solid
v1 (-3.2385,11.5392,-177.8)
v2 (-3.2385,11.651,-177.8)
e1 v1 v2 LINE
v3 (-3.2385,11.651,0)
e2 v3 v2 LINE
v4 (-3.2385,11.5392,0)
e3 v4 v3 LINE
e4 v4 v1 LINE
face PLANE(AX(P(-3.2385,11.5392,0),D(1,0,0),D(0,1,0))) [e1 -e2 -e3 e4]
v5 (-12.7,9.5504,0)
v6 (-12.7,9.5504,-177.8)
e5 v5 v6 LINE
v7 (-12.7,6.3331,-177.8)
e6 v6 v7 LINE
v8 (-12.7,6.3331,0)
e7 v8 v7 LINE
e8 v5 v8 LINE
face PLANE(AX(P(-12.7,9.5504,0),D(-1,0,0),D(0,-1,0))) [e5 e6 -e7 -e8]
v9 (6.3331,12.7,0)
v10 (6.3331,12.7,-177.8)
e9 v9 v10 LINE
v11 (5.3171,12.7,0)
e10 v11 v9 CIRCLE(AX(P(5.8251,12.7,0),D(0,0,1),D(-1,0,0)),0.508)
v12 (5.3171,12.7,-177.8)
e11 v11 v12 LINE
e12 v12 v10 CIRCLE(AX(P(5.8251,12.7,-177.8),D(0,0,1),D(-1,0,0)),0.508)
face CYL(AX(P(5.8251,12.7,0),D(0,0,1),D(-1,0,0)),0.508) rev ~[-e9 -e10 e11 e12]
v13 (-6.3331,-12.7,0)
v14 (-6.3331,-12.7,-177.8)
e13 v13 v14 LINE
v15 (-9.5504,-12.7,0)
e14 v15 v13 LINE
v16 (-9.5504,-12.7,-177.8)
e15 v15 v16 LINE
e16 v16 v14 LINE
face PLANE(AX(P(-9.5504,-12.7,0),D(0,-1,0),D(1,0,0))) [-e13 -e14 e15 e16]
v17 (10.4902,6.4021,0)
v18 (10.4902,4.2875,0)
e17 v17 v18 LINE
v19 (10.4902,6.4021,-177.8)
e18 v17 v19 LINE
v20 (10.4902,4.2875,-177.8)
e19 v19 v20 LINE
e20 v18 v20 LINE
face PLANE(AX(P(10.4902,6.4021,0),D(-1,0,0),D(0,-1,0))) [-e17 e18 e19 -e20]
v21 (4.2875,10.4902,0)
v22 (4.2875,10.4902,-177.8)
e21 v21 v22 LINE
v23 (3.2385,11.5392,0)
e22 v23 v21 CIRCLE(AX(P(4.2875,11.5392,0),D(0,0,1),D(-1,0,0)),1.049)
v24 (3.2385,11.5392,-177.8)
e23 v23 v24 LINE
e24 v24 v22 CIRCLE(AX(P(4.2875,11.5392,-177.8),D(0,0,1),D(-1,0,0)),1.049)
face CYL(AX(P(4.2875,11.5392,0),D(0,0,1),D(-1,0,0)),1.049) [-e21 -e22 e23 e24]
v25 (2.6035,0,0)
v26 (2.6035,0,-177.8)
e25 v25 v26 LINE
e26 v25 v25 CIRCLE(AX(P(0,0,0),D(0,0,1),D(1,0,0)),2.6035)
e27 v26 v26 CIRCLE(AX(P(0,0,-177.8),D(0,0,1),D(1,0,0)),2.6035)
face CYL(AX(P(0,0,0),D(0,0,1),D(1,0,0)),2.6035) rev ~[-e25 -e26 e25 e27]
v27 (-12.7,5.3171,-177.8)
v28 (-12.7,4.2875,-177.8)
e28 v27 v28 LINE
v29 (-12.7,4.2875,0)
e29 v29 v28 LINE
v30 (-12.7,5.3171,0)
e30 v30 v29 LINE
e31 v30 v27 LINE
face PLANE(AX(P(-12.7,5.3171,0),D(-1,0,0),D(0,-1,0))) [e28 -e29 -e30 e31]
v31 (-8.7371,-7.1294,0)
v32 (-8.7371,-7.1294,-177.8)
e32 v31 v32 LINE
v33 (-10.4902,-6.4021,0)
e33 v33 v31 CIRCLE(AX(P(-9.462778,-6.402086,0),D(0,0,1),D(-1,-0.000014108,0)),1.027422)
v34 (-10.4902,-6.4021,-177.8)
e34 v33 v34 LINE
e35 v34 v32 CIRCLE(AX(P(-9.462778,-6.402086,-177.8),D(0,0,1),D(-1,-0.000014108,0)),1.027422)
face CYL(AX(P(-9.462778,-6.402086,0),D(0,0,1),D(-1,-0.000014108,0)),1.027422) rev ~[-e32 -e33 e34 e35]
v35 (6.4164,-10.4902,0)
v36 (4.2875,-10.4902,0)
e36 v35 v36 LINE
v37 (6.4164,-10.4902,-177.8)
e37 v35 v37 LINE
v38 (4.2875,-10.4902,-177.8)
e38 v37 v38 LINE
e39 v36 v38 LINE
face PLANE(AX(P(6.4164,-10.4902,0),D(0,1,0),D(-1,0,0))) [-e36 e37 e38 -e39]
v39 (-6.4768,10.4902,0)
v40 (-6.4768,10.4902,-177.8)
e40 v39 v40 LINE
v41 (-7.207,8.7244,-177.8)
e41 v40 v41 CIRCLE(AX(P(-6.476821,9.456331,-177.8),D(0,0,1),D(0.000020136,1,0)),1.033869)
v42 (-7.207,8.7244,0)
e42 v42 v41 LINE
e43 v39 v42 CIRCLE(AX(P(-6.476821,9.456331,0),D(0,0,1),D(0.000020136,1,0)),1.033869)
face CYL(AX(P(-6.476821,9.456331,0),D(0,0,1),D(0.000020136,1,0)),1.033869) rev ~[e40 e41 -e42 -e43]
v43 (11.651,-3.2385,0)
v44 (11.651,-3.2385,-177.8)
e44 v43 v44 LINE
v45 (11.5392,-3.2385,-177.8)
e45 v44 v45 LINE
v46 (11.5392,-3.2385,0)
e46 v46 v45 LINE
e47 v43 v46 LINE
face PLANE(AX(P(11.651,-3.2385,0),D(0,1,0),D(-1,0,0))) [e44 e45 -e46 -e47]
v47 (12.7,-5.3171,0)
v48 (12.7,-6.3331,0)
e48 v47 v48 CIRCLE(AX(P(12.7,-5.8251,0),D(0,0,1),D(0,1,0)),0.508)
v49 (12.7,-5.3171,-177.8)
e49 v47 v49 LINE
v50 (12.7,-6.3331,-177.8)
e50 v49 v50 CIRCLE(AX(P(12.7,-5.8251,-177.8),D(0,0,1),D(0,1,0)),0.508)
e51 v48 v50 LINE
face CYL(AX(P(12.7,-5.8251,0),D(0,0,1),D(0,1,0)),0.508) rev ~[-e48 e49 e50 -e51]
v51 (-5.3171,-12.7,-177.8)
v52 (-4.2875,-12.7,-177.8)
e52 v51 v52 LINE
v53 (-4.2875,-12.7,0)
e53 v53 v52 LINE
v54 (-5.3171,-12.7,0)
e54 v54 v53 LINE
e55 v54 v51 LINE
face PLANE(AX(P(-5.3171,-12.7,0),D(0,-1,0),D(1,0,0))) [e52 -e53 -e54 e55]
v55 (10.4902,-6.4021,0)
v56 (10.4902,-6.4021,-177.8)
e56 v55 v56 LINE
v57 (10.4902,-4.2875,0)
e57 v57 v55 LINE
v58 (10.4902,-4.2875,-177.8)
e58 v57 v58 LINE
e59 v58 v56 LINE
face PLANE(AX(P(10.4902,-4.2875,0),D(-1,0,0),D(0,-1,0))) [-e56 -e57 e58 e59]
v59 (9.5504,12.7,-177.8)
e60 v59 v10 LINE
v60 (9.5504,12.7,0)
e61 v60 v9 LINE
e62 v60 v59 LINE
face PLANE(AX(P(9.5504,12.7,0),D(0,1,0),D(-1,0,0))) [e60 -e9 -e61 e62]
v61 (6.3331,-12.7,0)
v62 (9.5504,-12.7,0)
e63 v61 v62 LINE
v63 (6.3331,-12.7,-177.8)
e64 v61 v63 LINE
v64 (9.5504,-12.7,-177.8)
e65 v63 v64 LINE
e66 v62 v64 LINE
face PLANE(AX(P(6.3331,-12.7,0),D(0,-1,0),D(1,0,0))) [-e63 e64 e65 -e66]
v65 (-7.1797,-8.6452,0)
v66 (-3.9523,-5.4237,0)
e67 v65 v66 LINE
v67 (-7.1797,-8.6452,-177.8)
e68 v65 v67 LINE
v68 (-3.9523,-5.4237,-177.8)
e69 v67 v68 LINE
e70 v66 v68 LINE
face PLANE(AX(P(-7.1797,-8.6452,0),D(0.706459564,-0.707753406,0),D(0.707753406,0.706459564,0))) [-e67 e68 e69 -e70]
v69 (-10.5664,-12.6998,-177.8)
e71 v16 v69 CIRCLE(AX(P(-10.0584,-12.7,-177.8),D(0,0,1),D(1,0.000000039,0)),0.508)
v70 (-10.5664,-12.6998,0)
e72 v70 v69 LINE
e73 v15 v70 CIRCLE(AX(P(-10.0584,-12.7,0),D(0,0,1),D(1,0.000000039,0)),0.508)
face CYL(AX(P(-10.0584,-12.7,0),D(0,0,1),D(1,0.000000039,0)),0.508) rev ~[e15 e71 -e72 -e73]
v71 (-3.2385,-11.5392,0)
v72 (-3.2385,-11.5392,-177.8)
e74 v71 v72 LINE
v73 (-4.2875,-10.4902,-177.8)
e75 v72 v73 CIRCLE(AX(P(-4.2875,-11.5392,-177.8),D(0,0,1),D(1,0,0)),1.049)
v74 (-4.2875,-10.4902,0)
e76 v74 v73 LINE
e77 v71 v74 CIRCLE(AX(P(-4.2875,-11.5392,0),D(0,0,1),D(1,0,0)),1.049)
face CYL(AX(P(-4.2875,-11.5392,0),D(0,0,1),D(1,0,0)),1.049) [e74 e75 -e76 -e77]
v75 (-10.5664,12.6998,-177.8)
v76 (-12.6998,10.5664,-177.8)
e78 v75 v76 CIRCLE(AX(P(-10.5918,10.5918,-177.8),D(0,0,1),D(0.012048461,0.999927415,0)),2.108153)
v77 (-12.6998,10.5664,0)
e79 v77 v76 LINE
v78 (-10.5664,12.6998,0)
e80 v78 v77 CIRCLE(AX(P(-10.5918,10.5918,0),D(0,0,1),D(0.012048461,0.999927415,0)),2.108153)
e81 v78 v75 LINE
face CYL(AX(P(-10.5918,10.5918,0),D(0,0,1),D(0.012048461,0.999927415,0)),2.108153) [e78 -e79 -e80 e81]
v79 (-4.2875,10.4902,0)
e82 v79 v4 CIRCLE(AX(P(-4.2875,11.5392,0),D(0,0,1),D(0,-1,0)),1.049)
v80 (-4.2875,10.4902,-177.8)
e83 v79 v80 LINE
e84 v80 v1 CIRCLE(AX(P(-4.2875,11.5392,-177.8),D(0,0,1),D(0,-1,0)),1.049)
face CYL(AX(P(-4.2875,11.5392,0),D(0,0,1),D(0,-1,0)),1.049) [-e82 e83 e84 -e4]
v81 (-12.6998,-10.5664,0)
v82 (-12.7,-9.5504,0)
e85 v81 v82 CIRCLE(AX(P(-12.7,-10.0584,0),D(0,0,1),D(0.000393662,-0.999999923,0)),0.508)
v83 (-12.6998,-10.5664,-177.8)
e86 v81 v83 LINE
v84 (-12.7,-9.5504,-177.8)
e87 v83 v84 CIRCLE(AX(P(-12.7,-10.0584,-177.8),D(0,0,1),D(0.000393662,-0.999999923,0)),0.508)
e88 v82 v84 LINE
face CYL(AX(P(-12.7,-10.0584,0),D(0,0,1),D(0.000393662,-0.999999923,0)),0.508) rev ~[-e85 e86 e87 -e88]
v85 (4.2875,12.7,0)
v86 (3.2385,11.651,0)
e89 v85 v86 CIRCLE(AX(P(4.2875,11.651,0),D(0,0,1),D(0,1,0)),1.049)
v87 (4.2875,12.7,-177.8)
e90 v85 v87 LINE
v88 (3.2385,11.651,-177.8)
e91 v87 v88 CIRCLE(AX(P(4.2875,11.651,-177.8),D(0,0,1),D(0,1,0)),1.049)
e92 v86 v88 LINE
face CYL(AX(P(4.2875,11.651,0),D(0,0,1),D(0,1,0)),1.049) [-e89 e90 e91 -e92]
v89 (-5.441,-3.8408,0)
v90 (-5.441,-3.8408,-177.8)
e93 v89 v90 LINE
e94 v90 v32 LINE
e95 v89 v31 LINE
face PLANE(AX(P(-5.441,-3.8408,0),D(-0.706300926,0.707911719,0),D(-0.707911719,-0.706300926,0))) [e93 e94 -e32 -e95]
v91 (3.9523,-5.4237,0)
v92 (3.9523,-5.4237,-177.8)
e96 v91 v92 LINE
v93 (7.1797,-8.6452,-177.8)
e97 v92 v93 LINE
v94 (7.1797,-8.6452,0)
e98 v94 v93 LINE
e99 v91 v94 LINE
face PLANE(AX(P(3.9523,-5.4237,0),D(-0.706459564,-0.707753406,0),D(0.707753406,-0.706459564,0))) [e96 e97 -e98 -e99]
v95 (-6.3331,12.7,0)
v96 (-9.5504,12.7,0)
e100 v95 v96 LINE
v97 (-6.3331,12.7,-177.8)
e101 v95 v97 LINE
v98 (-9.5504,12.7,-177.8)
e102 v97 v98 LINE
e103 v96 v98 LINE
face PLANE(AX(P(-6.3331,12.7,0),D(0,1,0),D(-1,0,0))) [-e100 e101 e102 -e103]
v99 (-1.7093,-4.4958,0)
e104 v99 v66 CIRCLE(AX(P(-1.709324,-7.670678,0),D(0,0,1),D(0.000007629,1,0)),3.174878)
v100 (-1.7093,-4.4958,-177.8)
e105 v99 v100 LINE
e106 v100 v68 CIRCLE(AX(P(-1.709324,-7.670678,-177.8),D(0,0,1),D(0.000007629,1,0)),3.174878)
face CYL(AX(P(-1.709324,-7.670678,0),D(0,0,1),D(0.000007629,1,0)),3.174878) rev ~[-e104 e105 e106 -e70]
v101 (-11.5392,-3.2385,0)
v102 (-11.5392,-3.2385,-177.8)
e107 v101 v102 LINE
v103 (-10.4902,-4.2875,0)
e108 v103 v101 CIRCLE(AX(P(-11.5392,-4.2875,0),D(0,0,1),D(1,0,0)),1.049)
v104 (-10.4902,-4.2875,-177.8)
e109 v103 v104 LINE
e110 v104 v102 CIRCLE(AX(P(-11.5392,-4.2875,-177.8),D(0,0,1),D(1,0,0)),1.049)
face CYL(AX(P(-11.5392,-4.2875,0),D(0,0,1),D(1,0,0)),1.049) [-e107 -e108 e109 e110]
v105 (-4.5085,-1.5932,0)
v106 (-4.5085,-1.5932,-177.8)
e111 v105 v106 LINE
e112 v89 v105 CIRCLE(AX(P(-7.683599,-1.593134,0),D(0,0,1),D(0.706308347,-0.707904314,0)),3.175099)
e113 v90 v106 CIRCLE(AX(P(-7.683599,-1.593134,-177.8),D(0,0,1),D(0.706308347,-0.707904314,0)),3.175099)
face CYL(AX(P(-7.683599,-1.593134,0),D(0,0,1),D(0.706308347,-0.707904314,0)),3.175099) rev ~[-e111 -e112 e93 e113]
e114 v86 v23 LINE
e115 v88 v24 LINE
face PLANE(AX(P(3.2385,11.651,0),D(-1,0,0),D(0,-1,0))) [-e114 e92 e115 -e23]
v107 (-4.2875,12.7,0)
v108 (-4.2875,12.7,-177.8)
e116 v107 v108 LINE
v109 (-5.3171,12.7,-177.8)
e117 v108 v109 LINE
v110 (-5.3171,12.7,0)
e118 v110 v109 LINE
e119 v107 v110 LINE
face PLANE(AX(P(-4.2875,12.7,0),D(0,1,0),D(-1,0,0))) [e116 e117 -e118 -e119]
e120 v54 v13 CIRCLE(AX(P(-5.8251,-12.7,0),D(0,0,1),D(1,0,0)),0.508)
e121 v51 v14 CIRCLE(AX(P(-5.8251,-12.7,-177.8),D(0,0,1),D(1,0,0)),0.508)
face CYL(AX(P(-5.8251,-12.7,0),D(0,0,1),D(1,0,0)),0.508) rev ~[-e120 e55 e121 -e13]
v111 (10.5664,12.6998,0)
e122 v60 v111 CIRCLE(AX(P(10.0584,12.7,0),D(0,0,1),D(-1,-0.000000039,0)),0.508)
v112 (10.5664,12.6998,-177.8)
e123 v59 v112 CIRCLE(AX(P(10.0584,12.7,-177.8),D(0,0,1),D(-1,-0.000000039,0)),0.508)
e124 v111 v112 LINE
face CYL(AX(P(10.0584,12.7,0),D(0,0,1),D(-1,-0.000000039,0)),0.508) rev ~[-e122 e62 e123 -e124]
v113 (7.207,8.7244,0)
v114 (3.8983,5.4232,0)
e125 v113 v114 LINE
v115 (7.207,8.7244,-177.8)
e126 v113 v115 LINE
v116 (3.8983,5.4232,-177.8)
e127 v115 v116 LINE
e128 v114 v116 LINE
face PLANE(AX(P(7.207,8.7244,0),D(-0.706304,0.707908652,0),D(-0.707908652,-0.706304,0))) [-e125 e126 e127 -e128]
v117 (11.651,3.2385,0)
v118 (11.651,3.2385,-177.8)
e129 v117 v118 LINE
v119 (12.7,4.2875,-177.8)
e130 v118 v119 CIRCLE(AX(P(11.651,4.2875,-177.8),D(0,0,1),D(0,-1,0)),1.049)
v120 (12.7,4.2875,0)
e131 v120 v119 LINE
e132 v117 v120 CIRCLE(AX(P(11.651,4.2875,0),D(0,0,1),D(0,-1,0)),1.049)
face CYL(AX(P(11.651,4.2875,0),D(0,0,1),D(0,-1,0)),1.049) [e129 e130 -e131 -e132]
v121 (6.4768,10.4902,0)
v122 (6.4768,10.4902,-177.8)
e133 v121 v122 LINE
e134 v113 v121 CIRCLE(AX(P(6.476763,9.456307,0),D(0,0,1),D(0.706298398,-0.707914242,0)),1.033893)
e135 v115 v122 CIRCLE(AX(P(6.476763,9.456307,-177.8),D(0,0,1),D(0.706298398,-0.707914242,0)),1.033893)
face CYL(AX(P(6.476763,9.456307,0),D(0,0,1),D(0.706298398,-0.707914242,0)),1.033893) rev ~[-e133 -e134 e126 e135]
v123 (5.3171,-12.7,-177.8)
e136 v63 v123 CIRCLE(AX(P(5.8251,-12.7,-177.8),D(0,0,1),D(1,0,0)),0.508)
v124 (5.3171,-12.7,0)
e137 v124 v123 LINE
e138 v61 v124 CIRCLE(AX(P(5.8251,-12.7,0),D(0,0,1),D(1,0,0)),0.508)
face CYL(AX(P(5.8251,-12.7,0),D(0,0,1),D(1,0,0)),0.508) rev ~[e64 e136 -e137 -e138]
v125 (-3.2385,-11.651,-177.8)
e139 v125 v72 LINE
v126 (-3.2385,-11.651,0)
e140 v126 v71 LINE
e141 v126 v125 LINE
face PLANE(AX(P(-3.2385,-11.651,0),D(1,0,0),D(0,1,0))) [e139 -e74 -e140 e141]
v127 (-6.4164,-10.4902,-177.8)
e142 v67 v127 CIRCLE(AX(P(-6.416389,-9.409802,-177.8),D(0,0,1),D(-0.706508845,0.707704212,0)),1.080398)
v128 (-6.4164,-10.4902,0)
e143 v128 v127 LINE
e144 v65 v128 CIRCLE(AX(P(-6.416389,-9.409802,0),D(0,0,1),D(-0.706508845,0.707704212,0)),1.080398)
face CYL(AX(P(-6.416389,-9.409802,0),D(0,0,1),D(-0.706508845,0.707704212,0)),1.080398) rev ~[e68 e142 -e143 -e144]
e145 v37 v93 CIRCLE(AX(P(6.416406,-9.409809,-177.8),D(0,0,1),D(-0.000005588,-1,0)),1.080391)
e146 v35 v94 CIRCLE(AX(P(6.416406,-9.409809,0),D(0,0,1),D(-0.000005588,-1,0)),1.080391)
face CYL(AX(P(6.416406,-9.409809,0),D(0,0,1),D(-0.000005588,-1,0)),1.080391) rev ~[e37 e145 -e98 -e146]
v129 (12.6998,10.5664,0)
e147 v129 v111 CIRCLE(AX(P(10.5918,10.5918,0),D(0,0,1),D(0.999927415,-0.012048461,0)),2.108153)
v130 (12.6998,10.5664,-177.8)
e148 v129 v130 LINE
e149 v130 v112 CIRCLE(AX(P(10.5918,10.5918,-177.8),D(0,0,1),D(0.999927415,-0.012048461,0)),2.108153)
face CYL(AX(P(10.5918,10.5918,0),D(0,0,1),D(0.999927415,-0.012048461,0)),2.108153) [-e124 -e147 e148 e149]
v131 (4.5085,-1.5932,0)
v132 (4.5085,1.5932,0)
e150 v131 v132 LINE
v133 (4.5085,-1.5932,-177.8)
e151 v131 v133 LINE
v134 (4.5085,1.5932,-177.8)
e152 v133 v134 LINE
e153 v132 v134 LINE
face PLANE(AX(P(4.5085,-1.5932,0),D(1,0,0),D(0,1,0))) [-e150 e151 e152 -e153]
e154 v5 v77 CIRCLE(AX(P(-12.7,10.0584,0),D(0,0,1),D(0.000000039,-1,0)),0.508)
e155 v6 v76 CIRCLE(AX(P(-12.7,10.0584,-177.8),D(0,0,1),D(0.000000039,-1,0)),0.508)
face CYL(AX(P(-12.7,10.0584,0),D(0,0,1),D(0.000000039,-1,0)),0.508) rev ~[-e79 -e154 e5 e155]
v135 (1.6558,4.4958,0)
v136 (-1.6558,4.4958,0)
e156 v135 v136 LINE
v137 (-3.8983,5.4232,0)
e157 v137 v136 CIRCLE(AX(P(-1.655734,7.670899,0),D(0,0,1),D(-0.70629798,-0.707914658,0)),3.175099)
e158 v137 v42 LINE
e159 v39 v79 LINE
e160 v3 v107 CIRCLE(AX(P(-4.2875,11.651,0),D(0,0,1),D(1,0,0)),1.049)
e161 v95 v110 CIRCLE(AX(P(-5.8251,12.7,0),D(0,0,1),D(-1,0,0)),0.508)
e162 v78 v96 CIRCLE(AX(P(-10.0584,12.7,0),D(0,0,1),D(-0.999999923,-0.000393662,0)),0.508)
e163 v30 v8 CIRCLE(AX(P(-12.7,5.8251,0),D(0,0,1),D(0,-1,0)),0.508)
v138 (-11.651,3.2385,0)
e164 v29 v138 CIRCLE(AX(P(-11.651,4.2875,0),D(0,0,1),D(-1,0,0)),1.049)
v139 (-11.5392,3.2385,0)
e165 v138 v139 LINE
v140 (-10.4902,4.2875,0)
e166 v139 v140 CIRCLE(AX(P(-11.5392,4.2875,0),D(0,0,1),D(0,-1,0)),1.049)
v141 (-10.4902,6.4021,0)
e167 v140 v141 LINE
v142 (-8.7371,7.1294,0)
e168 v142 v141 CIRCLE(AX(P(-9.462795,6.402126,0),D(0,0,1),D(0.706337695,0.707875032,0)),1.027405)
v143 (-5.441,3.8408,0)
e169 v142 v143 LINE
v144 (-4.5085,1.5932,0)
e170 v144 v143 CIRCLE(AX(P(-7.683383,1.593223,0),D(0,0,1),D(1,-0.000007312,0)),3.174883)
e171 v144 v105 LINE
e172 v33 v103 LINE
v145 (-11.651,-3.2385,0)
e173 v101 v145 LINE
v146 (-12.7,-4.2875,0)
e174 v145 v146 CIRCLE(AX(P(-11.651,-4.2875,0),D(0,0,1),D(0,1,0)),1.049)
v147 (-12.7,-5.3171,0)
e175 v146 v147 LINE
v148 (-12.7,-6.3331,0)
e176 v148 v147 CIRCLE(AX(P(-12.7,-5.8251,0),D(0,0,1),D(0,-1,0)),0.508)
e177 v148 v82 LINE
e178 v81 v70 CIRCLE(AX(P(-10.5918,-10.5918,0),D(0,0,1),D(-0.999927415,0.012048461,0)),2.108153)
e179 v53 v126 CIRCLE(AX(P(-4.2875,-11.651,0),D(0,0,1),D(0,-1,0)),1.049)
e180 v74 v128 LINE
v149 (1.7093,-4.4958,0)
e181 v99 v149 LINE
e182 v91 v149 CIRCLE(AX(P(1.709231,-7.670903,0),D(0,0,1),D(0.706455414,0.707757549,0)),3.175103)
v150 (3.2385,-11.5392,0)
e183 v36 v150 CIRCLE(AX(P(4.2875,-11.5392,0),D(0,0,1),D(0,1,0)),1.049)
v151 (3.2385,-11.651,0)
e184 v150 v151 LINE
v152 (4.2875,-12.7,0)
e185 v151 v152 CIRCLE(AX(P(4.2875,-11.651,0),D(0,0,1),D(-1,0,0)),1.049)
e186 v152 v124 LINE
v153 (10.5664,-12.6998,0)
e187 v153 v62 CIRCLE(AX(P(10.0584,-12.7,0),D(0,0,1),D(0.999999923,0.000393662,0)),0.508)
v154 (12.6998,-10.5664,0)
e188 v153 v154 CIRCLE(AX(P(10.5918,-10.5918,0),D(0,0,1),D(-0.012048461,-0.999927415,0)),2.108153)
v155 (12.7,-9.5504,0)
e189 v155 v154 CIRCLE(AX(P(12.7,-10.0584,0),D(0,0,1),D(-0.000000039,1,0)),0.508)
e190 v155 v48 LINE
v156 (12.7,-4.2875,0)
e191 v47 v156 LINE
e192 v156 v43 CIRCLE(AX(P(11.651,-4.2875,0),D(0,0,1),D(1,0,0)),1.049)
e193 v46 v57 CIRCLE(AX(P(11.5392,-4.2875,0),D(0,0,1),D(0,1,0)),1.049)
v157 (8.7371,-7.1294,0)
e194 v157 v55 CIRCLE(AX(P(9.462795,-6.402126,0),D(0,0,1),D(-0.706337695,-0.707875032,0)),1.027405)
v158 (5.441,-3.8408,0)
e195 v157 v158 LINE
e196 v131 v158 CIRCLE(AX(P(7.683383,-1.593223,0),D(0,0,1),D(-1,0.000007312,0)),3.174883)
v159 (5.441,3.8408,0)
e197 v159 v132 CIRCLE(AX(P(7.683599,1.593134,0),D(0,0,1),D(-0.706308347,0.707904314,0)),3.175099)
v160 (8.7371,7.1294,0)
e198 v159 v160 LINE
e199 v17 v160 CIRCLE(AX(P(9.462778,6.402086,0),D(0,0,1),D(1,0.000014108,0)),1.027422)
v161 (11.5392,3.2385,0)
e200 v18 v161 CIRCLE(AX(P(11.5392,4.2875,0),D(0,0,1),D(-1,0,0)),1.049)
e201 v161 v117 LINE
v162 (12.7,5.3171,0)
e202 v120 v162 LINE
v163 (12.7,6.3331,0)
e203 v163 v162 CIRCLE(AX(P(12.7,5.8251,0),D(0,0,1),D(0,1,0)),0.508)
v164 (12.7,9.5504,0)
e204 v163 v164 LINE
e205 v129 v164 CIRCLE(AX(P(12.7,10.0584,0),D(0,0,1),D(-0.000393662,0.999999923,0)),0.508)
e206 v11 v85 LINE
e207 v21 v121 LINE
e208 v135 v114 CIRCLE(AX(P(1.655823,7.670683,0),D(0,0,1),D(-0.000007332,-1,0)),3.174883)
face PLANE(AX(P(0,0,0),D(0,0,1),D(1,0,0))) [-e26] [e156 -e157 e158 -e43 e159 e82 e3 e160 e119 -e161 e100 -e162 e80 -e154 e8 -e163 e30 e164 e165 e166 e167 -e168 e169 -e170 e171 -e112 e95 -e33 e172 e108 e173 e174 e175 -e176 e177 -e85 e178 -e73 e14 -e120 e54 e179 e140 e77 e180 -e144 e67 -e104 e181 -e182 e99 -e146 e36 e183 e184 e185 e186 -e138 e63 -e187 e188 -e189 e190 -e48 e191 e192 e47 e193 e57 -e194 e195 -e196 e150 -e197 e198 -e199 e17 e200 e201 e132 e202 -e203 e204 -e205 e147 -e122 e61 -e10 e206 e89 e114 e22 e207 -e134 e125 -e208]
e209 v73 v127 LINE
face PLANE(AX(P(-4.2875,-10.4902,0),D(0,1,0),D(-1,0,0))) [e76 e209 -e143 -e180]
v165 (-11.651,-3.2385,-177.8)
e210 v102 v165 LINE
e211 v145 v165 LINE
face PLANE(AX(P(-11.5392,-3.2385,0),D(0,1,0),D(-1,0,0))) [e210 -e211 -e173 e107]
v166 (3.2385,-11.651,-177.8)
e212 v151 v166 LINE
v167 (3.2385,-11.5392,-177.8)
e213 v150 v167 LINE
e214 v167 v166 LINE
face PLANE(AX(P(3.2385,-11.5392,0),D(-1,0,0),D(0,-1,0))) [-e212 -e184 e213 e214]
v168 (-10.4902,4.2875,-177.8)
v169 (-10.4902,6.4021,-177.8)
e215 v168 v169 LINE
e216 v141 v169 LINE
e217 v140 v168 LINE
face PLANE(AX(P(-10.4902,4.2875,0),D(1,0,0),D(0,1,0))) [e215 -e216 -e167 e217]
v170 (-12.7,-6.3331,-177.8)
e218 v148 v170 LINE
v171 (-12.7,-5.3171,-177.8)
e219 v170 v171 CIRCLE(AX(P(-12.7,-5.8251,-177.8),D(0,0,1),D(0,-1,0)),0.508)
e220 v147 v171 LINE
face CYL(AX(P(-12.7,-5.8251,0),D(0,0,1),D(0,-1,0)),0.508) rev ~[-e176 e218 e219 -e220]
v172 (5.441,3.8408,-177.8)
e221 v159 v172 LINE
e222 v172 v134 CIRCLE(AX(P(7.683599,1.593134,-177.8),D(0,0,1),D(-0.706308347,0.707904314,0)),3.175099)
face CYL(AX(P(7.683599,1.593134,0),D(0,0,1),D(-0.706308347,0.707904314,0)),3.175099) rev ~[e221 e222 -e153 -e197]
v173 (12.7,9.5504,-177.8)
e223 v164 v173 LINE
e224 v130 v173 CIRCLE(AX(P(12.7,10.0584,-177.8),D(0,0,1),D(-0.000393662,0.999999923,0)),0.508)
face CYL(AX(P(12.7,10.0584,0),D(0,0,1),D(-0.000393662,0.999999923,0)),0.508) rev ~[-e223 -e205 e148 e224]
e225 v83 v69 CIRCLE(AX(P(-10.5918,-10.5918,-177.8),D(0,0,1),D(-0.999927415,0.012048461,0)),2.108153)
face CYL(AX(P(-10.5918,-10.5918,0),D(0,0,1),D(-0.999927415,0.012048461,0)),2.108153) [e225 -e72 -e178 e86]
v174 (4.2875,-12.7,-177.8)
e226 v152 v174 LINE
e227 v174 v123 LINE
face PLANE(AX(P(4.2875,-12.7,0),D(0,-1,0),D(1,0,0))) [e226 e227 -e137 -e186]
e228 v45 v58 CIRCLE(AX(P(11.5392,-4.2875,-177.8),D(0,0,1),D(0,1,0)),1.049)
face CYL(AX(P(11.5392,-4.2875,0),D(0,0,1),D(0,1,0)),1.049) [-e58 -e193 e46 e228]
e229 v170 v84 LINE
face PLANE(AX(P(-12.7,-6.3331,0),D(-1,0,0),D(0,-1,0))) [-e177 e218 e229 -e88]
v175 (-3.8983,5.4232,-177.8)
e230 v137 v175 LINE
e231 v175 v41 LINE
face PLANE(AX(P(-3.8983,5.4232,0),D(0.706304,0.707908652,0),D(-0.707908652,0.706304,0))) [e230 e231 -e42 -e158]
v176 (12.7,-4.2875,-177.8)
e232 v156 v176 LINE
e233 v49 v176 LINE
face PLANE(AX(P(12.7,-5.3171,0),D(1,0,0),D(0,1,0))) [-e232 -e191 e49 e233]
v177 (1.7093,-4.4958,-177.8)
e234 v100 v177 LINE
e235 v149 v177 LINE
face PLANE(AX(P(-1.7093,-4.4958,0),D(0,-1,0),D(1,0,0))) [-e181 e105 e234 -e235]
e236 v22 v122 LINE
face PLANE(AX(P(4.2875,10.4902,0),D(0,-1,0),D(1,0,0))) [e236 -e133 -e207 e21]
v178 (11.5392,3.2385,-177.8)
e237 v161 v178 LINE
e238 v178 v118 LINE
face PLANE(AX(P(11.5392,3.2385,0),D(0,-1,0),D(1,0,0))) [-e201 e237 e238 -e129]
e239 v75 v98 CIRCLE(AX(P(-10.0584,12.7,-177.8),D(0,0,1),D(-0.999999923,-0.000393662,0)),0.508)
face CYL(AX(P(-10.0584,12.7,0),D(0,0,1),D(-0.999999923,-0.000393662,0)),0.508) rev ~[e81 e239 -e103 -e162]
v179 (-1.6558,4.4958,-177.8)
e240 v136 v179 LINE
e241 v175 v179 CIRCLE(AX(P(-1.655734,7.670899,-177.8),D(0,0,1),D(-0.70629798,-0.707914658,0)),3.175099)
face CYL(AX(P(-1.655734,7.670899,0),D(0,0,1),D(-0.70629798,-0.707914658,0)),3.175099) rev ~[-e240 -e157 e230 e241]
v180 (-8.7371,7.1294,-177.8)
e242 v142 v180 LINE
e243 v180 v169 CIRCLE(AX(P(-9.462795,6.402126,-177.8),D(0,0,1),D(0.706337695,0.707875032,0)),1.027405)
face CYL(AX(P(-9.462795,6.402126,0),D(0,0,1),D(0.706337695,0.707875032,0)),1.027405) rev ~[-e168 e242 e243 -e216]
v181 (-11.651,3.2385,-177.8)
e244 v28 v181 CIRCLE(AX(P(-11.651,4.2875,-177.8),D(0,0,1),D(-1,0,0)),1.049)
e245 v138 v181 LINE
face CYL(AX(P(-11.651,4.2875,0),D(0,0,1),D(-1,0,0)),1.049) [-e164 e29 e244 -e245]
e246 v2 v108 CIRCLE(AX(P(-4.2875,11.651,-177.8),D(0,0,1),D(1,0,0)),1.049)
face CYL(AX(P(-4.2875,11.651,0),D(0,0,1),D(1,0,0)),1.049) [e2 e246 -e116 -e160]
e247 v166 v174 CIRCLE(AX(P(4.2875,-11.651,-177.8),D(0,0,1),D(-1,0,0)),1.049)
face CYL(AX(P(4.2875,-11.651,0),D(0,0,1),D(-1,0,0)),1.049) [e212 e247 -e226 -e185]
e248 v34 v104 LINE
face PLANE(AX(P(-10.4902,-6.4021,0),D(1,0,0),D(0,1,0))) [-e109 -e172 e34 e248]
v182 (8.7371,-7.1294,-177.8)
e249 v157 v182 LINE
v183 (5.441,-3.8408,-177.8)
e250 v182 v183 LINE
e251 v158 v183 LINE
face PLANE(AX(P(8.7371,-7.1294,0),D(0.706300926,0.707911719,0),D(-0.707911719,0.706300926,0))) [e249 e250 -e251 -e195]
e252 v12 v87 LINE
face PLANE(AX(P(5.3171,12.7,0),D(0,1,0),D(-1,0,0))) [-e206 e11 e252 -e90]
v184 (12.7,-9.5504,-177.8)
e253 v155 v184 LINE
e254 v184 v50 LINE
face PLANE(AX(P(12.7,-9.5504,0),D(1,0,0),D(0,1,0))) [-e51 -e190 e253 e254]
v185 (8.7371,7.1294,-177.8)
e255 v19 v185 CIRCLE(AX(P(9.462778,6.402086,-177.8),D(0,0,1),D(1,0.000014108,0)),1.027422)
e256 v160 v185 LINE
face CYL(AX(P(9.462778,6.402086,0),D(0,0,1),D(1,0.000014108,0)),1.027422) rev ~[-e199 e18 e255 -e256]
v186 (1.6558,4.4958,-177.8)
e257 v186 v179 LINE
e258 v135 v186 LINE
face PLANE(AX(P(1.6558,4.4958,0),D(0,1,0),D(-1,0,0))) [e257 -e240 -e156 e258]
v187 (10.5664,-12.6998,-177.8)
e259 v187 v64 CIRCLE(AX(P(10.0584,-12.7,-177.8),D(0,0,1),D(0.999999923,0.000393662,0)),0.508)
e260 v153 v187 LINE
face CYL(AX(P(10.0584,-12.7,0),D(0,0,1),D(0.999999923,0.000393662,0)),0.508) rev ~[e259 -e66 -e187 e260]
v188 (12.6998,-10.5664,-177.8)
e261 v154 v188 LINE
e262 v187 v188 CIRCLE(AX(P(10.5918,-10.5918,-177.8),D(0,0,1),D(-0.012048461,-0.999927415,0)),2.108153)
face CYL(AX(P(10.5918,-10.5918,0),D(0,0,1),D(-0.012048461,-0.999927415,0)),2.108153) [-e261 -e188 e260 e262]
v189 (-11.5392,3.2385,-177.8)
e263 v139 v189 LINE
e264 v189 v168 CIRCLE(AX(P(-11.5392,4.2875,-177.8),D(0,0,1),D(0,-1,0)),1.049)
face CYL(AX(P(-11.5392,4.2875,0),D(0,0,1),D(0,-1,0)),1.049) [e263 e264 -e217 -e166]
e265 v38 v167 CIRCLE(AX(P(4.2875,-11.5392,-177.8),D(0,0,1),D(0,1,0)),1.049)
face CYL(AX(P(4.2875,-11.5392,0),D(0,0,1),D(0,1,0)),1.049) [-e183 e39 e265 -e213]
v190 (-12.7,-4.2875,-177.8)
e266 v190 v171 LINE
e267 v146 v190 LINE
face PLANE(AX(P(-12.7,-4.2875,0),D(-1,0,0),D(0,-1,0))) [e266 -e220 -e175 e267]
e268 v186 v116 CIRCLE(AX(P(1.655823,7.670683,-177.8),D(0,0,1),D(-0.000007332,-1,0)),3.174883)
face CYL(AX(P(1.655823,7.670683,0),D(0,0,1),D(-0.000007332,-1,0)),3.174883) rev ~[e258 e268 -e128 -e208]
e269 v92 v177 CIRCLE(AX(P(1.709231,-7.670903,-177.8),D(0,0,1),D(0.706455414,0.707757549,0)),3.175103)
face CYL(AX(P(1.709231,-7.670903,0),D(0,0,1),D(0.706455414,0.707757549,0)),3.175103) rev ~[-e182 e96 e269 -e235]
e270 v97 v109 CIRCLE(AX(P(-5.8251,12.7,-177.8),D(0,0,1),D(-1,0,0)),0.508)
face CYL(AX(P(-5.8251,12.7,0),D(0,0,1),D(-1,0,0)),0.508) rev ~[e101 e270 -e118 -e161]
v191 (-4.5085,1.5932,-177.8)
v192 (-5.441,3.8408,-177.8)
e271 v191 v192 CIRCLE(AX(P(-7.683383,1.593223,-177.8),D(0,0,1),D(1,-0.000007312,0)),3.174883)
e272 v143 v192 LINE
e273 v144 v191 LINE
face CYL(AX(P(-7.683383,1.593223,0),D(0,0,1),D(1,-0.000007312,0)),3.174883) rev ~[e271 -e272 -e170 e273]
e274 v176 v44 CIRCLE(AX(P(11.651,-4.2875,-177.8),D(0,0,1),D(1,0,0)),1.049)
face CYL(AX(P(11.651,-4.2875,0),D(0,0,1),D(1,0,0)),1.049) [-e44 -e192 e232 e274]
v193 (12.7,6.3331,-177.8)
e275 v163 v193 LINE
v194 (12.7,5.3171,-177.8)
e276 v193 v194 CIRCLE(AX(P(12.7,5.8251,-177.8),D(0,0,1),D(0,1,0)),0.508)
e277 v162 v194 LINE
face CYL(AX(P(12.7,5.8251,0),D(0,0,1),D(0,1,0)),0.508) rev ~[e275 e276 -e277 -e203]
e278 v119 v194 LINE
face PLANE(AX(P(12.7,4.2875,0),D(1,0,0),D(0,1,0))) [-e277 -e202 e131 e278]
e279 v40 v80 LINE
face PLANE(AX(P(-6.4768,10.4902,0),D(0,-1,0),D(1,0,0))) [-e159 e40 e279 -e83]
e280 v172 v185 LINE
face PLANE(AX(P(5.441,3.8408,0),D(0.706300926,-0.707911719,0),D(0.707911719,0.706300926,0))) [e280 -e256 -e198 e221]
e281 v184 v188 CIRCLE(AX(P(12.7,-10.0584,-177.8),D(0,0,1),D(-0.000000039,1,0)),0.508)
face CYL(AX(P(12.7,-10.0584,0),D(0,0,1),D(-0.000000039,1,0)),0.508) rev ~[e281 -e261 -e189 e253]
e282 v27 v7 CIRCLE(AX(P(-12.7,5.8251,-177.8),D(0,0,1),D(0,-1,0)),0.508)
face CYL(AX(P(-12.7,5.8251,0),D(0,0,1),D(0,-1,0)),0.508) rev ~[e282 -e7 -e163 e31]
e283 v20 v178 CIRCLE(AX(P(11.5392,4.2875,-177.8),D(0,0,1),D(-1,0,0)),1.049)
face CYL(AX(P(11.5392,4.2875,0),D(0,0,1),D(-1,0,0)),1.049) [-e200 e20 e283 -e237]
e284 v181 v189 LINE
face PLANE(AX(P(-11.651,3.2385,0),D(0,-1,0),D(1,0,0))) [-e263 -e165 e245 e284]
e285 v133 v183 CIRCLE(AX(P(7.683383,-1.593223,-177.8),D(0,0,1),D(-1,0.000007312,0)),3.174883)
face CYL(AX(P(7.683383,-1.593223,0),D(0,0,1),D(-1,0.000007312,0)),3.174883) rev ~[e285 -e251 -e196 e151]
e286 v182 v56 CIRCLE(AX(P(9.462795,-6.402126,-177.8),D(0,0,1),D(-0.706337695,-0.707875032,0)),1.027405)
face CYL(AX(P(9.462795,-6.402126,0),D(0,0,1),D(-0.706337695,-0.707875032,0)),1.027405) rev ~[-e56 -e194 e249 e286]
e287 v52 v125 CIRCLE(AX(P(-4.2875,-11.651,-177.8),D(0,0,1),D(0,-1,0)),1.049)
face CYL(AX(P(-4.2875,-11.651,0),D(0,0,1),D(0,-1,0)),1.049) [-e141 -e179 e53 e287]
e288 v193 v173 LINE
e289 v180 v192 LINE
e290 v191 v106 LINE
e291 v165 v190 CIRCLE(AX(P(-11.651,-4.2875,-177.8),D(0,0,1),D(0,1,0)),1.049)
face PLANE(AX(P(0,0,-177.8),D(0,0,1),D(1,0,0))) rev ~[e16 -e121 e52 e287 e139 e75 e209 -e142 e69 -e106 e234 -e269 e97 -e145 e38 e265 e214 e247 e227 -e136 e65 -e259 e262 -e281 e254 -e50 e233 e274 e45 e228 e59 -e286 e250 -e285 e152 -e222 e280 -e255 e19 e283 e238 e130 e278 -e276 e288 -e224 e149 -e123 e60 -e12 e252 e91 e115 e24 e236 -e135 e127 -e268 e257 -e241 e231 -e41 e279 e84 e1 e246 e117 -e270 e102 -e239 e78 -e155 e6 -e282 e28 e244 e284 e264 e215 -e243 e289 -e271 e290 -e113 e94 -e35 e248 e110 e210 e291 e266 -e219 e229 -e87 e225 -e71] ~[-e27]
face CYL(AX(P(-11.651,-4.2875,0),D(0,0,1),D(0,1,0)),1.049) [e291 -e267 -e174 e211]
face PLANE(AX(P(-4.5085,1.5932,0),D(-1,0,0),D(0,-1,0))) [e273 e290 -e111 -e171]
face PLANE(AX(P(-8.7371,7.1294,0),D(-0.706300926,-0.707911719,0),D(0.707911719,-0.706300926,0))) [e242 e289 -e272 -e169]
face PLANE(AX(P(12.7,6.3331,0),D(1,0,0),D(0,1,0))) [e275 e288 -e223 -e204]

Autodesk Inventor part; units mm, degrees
ref_plane "YZ Plane" through (0, 0, 0) normal (1, 0, 0) x (0, 1, 0)
ref_plane "XZ Plane" through (0, 0, 0) normal (0, 1, 0) x (-1, 0, 0)
ref_plane "XY Plane" through (0, 0, 0) normal (0, 0, 1) x (1, 0, 0)
sketch "Sketch1" plane through (0, 0, 0) normal (0, 0, 1) x (1, 0, 0)
  circle A0 centre (0, 0) radius 2.6035
  arc A1 (-1.7093, -4.4958) -> (-3.9523, -5.4237) centre (-1.7093, -7.6708) ccw
  line L0 (-1.7093, -4.4958) -> (1.7093, -4.4958)
  arc A2 (3.9523, -5.4237) -> (1.7093, -4.4958) centre (1.7093, -7.6708) ccw
  line L1 (3.9523, -5.4237) -> (7.1797, -8.6452)
  arc A3 (6.4164, -10.4902) -> (7.1797, -8.6452) centre (6.4164, -9.4098) ccw
  line L2 (6.4164, -10.4902) -> (4.2875, -10.4902)
  arc A4 (4.2875, -10.4902) -> (3.2385, -11.5392) centre (4.2875, -11.5392) ccw
  line L3 (3.2385, -11.5392) -> (3.2385, -11.651)
  arc A5 (3.2385, -11.651) -> (4.2875, -12.7) centre (4.2875, -11.651) ccw
  line L4 (4.2875, -12.7) -> (5.3171, -12.7)
  arc A6 (6.3331, -12.7) -> (5.3171, -12.7) centre (5.8251, -12.7) ccw
  line L5 (6.3331, -12.7) -> (9.5504, -12.7)
  arc A7 (10.5664, -12.6998) -> (9.5504, -12.7) centre (10.0584, -12.7) ccw
  arc A8 (10.5664, -12.6998) -> (12.6998, -10.5664) centre (10.5918, -10.5918) ccw
  arc A9 (12.7, -9.5504) -> (12.6998, -10.5664) centre (12.7, -10.0584) ccw
  line L6 (12.7, -9.5504) -> (12.7, -6.3331)
  arc A10 (12.7, -5.3171) -> (12.7, -6.3331) centre (12.7, -5.8251) ccw
  line L7 (12.7, -5.3171) -> (12.7, -4.2875)
  arc A11 (12.7, -4.2875) -> (11.651, -3.2385) centre (11.651, -4.2875) ccw
  line L8 (11.651, -3.2385) -> (11.5392, -3.2385)
  arc A12 (11.5392, -3.2385) -> (10.4902, -4.2875) centre (11.5392, -4.2875) ccw
  line L9 (10.4902, -4.2875) -> (10.4902, -6.4021)
  arc A13 (8.7371, -7.1294) -> (10.4902, -6.4021) centre (9.4628, -6.4021) ccw
  line L10 (8.7371, -7.1294) -> (5.441, -3.8408)
  arc A14 (4.5085, -1.5932) -> (5.441, -3.8408) centre (7.6835, -1.5932) ccw
  line L11 (4.5085, -1.5932) -> (4.5085, 1.5932)
  arc A15 (5.441, 3.8408) -> (4.5085, 1.5932) centre (7.6835, 1.5932) ccw
  line L12 (5.441, 3.8408) -> (8.7371, 7.1294)
  arc A16 (10.4902, 6.4021) -> (8.7371, 7.1294) centre (9.4628, 6.4021) ccw
  line L13 (10.4902, 6.4021) -> (10.4902, 4.2875)
  arc A17 (10.4902, 4.2875) -> (11.5392, 3.2385) centre (11.5392, 4.2875) ccw
  line L14 (11.5392, 3.2385) -> (11.651, 3.2385)
  arc A18 (11.651, 3.2385) -> (12.7, 4.2875) centre (11.651, 4.2875) ccw
  line L15 (12.7, 4.2875) -> (12.7, 5.3171)
  arc A19 (12.7, 6.3331) -> (12.7, 5.3171) centre (12.7, 5.8251) ccw
  line L16 (12.7, 6.3331) -> (12.7, 9.5504)
  arc A20 (12.6998, 10.5664) -> (12.7, 9.5504) centre (12.7, 10.0584) ccw
  arc A21 (12.6998, 10.5664) -> (10.5664, 12.6998) centre (10.5918, 10.5918) ccw
  arc A22 (9.5504, 12.7) -> (10.5664, 12.6998) centre (10.0584, 12.7) ccw
  line L17 (9.5504, 12.7) -> (6.3331, 12.7)
  arc A23 (5.3171, 12.7) -> (6.3331, 12.7) centre (5.8251, 12.7) ccw
  line L18 (5.3171, 12.7) -> (4.2875, 12.7)
  arc A24 (4.2875, 12.7) -> (3.2385, 11.651) centre (4.2875, 11.651) ccw
  line L19 (3.2385, 11.651) -> (3.2385, 11.5392)
  arc A25 (3.2385, 11.5392) -> (4.2875, 10.4902) centre (4.2875, 11.5392) ccw
  line L20 (4.2875, 10.4902) -> (6.4768, 10.4902)
  arc A26 (7.207, 8.7244) -> (6.4768, 10.4902) centre (6.4768, 9.4563) ccw
  line L21 (7.207, 8.7244) -> (3.8983, 5.4232)
  arc A27 (1.6558, 4.4958) -> (3.8983, 5.4232) centre (1.6558, 7.6708) ccw
  line L22 (1.6558, 4.4958) -> (-1.6558, 4.4958)
  arc A28 (-3.8983, 5.4232) -> (-1.6558, 4.4958) centre (-1.6558, 7.6708) ccw
  line L23 (-3.8983, 5.4232) -> (-7.207, 8.7244)
  arc A29 (-6.4768, 10.4902) -> (-7.207, 8.7244) centre (-6.4768, 9.4563) ccw
  line L24 (-6.4768, 10.4902) -> (-4.2875, 10.4902)
  arc A30 (-4.2875, 10.4902) -> (-3.2385, 11.5392) centre (-4.2875, 11.5392) ccw
  line L25 (-3.2385, 11.5392) -> (-3.2385, 11.651)
  arc A31 (-3.2385, 11.651) -> (-4.2875, 12.7) centre (-4.2875, 11.651) ccw
  line L26 (-4.2875, 12.7) -> (-5.3171, 12.7)
  arc A32 (-6.3331, 12.7) -> (-5.3171, 12.7) centre (-5.8251, 12.7) ccw
  line L27 (-6.3331, 12.7) -> (-9.5504, 12.7)
  arc A33 (-10.5664, 12.6998) -> (-9.5504, 12.7) centre (-10.0584, 12.7) ccw
  arc A34 (-10.5664, 12.6998) -> (-12.6998, 10.5664) centre (-10.5918, 10.5918) ccw
  arc A35 (-12.7, 9.5504) -> (-12.6998, 10.5664) centre (-12.7, 10.0584) ccw
  line L28 (-12.7, 9.5504) -> (-12.7, 6.3331)
  arc A36 (-12.7, 5.3171) -> (-12.7, 6.3331) centre (-12.7, 5.8251) ccw
  line L29 (-12.7, 5.3171) -> (-12.7, 4.2875)
  arc A37 (-12.7, 4.2875) -> (-11.651, 3.2385) centre (-11.651, 4.2875) ccw
  line L30 (-11.651, 3.2385) -> (-11.5392, 3.2385)
  arc A38 (-11.5392, 3.2385) -> (-10.4902, 4.2875) centre (-11.5392, 4.2875) ccw
  line L31 (-10.4902, 4.2875) -> (-10.4902, 6.4021)
  arc A39 (-8.7371, 7.1294) -> (-10.4902, 6.4021) centre (-9.4628, 6.4021) ccw
  line L32 (-8.7371, 7.1294) -> (-5.441, 3.8408)
  arc A40 (-4.5085, 1.5932) -> (-5.441, 3.8408) centre (-7.6835, 1.5932) ccw
  line L33 (-4.5085, 1.5932) -> (-4.5085, -1.5932)
  arc A41 (-5.441, -3.8408) -> (-4.5085, -1.5932) centre (-7.6835, -1.5932) ccw
  line L34 (-5.441, -3.8408) -> (-8.7371, -7.1294)
  arc A42 (-10.4902, -6.4021) -> (-8.7371, -7.1294) centre (-9.4628, -6.4021) ccw
  line L35 (-10.4902, -6.4021) -> (-10.4902, -4.2875)
  arc A43 (-10.4902, -4.2875) -> (-11.5392, -3.2385) centre (-11.5392, -4.2875) ccw
  line L36 (-11.5392, -3.2385) -> (-11.651, -3.2385)
  arc A44 (-11.651, -3.2385) -> (-12.7, -4.2875) centre (-11.651, -4.2875) ccw
  line L37 (-12.7, -4.2875) -> (-12.7, -5.3171)
  arc A45 (-12.7, -6.3331) -> (-12.7, -5.3171) centre (-12.7, -5.8251) ccw
  line L38 (-12.7, -6.3331) -> (-12.7, -9.5504)
  arc A46 (-12.6998, -10.5664) -> (-12.7, -9.5504) centre (-12.7, -10.0584) ccw
  arc A47 (-12.6998, -10.5664) -> (-10.5664, -12.6998) centre (-10.5918, -10.5918) ccw
  arc A48 (-9.5504, -12.7) -> (-10.5664, -12.6998) centre (-10.0584, -12.7) ccw
  line L39 (-9.5504, -12.7) -> (-6.3331, -12.7)
  arc A49 (-5.3171, -12.7) -> (-6.3331, -12.7) centre (-5.8251, -12.7) ccw
  line L40 (-5.3171, -12.7) -> (-4.2875, -12.7)
  arc A50 (-4.2875, -12.7) -> (-3.2385, -11.651) centre (-4.2875, -11.651) ccw
  line L41 (-3.2385, -11.651) -> (-3.2385, -11.5392)
  arc A51 (-3.2385, -11.5392) -> (-4.2875, -10.4902) centre (-4.2875, -11.5392) ccw
  line L42 (-4.2875, -10.4902) -> (-6.4164, -10.4902)
  arc A52 (-7.1797, -8.6452) -> (-6.4164, -10.4902) centre (-6.4164, -9.4098) ccw
  line L43 (-7.1797, -8.6452) -> (-3.9523, -5.4237)
extrude "Extrusion1" add sketch "Sketch1" against normal blind 177.8
properties part number "1010 7in"
